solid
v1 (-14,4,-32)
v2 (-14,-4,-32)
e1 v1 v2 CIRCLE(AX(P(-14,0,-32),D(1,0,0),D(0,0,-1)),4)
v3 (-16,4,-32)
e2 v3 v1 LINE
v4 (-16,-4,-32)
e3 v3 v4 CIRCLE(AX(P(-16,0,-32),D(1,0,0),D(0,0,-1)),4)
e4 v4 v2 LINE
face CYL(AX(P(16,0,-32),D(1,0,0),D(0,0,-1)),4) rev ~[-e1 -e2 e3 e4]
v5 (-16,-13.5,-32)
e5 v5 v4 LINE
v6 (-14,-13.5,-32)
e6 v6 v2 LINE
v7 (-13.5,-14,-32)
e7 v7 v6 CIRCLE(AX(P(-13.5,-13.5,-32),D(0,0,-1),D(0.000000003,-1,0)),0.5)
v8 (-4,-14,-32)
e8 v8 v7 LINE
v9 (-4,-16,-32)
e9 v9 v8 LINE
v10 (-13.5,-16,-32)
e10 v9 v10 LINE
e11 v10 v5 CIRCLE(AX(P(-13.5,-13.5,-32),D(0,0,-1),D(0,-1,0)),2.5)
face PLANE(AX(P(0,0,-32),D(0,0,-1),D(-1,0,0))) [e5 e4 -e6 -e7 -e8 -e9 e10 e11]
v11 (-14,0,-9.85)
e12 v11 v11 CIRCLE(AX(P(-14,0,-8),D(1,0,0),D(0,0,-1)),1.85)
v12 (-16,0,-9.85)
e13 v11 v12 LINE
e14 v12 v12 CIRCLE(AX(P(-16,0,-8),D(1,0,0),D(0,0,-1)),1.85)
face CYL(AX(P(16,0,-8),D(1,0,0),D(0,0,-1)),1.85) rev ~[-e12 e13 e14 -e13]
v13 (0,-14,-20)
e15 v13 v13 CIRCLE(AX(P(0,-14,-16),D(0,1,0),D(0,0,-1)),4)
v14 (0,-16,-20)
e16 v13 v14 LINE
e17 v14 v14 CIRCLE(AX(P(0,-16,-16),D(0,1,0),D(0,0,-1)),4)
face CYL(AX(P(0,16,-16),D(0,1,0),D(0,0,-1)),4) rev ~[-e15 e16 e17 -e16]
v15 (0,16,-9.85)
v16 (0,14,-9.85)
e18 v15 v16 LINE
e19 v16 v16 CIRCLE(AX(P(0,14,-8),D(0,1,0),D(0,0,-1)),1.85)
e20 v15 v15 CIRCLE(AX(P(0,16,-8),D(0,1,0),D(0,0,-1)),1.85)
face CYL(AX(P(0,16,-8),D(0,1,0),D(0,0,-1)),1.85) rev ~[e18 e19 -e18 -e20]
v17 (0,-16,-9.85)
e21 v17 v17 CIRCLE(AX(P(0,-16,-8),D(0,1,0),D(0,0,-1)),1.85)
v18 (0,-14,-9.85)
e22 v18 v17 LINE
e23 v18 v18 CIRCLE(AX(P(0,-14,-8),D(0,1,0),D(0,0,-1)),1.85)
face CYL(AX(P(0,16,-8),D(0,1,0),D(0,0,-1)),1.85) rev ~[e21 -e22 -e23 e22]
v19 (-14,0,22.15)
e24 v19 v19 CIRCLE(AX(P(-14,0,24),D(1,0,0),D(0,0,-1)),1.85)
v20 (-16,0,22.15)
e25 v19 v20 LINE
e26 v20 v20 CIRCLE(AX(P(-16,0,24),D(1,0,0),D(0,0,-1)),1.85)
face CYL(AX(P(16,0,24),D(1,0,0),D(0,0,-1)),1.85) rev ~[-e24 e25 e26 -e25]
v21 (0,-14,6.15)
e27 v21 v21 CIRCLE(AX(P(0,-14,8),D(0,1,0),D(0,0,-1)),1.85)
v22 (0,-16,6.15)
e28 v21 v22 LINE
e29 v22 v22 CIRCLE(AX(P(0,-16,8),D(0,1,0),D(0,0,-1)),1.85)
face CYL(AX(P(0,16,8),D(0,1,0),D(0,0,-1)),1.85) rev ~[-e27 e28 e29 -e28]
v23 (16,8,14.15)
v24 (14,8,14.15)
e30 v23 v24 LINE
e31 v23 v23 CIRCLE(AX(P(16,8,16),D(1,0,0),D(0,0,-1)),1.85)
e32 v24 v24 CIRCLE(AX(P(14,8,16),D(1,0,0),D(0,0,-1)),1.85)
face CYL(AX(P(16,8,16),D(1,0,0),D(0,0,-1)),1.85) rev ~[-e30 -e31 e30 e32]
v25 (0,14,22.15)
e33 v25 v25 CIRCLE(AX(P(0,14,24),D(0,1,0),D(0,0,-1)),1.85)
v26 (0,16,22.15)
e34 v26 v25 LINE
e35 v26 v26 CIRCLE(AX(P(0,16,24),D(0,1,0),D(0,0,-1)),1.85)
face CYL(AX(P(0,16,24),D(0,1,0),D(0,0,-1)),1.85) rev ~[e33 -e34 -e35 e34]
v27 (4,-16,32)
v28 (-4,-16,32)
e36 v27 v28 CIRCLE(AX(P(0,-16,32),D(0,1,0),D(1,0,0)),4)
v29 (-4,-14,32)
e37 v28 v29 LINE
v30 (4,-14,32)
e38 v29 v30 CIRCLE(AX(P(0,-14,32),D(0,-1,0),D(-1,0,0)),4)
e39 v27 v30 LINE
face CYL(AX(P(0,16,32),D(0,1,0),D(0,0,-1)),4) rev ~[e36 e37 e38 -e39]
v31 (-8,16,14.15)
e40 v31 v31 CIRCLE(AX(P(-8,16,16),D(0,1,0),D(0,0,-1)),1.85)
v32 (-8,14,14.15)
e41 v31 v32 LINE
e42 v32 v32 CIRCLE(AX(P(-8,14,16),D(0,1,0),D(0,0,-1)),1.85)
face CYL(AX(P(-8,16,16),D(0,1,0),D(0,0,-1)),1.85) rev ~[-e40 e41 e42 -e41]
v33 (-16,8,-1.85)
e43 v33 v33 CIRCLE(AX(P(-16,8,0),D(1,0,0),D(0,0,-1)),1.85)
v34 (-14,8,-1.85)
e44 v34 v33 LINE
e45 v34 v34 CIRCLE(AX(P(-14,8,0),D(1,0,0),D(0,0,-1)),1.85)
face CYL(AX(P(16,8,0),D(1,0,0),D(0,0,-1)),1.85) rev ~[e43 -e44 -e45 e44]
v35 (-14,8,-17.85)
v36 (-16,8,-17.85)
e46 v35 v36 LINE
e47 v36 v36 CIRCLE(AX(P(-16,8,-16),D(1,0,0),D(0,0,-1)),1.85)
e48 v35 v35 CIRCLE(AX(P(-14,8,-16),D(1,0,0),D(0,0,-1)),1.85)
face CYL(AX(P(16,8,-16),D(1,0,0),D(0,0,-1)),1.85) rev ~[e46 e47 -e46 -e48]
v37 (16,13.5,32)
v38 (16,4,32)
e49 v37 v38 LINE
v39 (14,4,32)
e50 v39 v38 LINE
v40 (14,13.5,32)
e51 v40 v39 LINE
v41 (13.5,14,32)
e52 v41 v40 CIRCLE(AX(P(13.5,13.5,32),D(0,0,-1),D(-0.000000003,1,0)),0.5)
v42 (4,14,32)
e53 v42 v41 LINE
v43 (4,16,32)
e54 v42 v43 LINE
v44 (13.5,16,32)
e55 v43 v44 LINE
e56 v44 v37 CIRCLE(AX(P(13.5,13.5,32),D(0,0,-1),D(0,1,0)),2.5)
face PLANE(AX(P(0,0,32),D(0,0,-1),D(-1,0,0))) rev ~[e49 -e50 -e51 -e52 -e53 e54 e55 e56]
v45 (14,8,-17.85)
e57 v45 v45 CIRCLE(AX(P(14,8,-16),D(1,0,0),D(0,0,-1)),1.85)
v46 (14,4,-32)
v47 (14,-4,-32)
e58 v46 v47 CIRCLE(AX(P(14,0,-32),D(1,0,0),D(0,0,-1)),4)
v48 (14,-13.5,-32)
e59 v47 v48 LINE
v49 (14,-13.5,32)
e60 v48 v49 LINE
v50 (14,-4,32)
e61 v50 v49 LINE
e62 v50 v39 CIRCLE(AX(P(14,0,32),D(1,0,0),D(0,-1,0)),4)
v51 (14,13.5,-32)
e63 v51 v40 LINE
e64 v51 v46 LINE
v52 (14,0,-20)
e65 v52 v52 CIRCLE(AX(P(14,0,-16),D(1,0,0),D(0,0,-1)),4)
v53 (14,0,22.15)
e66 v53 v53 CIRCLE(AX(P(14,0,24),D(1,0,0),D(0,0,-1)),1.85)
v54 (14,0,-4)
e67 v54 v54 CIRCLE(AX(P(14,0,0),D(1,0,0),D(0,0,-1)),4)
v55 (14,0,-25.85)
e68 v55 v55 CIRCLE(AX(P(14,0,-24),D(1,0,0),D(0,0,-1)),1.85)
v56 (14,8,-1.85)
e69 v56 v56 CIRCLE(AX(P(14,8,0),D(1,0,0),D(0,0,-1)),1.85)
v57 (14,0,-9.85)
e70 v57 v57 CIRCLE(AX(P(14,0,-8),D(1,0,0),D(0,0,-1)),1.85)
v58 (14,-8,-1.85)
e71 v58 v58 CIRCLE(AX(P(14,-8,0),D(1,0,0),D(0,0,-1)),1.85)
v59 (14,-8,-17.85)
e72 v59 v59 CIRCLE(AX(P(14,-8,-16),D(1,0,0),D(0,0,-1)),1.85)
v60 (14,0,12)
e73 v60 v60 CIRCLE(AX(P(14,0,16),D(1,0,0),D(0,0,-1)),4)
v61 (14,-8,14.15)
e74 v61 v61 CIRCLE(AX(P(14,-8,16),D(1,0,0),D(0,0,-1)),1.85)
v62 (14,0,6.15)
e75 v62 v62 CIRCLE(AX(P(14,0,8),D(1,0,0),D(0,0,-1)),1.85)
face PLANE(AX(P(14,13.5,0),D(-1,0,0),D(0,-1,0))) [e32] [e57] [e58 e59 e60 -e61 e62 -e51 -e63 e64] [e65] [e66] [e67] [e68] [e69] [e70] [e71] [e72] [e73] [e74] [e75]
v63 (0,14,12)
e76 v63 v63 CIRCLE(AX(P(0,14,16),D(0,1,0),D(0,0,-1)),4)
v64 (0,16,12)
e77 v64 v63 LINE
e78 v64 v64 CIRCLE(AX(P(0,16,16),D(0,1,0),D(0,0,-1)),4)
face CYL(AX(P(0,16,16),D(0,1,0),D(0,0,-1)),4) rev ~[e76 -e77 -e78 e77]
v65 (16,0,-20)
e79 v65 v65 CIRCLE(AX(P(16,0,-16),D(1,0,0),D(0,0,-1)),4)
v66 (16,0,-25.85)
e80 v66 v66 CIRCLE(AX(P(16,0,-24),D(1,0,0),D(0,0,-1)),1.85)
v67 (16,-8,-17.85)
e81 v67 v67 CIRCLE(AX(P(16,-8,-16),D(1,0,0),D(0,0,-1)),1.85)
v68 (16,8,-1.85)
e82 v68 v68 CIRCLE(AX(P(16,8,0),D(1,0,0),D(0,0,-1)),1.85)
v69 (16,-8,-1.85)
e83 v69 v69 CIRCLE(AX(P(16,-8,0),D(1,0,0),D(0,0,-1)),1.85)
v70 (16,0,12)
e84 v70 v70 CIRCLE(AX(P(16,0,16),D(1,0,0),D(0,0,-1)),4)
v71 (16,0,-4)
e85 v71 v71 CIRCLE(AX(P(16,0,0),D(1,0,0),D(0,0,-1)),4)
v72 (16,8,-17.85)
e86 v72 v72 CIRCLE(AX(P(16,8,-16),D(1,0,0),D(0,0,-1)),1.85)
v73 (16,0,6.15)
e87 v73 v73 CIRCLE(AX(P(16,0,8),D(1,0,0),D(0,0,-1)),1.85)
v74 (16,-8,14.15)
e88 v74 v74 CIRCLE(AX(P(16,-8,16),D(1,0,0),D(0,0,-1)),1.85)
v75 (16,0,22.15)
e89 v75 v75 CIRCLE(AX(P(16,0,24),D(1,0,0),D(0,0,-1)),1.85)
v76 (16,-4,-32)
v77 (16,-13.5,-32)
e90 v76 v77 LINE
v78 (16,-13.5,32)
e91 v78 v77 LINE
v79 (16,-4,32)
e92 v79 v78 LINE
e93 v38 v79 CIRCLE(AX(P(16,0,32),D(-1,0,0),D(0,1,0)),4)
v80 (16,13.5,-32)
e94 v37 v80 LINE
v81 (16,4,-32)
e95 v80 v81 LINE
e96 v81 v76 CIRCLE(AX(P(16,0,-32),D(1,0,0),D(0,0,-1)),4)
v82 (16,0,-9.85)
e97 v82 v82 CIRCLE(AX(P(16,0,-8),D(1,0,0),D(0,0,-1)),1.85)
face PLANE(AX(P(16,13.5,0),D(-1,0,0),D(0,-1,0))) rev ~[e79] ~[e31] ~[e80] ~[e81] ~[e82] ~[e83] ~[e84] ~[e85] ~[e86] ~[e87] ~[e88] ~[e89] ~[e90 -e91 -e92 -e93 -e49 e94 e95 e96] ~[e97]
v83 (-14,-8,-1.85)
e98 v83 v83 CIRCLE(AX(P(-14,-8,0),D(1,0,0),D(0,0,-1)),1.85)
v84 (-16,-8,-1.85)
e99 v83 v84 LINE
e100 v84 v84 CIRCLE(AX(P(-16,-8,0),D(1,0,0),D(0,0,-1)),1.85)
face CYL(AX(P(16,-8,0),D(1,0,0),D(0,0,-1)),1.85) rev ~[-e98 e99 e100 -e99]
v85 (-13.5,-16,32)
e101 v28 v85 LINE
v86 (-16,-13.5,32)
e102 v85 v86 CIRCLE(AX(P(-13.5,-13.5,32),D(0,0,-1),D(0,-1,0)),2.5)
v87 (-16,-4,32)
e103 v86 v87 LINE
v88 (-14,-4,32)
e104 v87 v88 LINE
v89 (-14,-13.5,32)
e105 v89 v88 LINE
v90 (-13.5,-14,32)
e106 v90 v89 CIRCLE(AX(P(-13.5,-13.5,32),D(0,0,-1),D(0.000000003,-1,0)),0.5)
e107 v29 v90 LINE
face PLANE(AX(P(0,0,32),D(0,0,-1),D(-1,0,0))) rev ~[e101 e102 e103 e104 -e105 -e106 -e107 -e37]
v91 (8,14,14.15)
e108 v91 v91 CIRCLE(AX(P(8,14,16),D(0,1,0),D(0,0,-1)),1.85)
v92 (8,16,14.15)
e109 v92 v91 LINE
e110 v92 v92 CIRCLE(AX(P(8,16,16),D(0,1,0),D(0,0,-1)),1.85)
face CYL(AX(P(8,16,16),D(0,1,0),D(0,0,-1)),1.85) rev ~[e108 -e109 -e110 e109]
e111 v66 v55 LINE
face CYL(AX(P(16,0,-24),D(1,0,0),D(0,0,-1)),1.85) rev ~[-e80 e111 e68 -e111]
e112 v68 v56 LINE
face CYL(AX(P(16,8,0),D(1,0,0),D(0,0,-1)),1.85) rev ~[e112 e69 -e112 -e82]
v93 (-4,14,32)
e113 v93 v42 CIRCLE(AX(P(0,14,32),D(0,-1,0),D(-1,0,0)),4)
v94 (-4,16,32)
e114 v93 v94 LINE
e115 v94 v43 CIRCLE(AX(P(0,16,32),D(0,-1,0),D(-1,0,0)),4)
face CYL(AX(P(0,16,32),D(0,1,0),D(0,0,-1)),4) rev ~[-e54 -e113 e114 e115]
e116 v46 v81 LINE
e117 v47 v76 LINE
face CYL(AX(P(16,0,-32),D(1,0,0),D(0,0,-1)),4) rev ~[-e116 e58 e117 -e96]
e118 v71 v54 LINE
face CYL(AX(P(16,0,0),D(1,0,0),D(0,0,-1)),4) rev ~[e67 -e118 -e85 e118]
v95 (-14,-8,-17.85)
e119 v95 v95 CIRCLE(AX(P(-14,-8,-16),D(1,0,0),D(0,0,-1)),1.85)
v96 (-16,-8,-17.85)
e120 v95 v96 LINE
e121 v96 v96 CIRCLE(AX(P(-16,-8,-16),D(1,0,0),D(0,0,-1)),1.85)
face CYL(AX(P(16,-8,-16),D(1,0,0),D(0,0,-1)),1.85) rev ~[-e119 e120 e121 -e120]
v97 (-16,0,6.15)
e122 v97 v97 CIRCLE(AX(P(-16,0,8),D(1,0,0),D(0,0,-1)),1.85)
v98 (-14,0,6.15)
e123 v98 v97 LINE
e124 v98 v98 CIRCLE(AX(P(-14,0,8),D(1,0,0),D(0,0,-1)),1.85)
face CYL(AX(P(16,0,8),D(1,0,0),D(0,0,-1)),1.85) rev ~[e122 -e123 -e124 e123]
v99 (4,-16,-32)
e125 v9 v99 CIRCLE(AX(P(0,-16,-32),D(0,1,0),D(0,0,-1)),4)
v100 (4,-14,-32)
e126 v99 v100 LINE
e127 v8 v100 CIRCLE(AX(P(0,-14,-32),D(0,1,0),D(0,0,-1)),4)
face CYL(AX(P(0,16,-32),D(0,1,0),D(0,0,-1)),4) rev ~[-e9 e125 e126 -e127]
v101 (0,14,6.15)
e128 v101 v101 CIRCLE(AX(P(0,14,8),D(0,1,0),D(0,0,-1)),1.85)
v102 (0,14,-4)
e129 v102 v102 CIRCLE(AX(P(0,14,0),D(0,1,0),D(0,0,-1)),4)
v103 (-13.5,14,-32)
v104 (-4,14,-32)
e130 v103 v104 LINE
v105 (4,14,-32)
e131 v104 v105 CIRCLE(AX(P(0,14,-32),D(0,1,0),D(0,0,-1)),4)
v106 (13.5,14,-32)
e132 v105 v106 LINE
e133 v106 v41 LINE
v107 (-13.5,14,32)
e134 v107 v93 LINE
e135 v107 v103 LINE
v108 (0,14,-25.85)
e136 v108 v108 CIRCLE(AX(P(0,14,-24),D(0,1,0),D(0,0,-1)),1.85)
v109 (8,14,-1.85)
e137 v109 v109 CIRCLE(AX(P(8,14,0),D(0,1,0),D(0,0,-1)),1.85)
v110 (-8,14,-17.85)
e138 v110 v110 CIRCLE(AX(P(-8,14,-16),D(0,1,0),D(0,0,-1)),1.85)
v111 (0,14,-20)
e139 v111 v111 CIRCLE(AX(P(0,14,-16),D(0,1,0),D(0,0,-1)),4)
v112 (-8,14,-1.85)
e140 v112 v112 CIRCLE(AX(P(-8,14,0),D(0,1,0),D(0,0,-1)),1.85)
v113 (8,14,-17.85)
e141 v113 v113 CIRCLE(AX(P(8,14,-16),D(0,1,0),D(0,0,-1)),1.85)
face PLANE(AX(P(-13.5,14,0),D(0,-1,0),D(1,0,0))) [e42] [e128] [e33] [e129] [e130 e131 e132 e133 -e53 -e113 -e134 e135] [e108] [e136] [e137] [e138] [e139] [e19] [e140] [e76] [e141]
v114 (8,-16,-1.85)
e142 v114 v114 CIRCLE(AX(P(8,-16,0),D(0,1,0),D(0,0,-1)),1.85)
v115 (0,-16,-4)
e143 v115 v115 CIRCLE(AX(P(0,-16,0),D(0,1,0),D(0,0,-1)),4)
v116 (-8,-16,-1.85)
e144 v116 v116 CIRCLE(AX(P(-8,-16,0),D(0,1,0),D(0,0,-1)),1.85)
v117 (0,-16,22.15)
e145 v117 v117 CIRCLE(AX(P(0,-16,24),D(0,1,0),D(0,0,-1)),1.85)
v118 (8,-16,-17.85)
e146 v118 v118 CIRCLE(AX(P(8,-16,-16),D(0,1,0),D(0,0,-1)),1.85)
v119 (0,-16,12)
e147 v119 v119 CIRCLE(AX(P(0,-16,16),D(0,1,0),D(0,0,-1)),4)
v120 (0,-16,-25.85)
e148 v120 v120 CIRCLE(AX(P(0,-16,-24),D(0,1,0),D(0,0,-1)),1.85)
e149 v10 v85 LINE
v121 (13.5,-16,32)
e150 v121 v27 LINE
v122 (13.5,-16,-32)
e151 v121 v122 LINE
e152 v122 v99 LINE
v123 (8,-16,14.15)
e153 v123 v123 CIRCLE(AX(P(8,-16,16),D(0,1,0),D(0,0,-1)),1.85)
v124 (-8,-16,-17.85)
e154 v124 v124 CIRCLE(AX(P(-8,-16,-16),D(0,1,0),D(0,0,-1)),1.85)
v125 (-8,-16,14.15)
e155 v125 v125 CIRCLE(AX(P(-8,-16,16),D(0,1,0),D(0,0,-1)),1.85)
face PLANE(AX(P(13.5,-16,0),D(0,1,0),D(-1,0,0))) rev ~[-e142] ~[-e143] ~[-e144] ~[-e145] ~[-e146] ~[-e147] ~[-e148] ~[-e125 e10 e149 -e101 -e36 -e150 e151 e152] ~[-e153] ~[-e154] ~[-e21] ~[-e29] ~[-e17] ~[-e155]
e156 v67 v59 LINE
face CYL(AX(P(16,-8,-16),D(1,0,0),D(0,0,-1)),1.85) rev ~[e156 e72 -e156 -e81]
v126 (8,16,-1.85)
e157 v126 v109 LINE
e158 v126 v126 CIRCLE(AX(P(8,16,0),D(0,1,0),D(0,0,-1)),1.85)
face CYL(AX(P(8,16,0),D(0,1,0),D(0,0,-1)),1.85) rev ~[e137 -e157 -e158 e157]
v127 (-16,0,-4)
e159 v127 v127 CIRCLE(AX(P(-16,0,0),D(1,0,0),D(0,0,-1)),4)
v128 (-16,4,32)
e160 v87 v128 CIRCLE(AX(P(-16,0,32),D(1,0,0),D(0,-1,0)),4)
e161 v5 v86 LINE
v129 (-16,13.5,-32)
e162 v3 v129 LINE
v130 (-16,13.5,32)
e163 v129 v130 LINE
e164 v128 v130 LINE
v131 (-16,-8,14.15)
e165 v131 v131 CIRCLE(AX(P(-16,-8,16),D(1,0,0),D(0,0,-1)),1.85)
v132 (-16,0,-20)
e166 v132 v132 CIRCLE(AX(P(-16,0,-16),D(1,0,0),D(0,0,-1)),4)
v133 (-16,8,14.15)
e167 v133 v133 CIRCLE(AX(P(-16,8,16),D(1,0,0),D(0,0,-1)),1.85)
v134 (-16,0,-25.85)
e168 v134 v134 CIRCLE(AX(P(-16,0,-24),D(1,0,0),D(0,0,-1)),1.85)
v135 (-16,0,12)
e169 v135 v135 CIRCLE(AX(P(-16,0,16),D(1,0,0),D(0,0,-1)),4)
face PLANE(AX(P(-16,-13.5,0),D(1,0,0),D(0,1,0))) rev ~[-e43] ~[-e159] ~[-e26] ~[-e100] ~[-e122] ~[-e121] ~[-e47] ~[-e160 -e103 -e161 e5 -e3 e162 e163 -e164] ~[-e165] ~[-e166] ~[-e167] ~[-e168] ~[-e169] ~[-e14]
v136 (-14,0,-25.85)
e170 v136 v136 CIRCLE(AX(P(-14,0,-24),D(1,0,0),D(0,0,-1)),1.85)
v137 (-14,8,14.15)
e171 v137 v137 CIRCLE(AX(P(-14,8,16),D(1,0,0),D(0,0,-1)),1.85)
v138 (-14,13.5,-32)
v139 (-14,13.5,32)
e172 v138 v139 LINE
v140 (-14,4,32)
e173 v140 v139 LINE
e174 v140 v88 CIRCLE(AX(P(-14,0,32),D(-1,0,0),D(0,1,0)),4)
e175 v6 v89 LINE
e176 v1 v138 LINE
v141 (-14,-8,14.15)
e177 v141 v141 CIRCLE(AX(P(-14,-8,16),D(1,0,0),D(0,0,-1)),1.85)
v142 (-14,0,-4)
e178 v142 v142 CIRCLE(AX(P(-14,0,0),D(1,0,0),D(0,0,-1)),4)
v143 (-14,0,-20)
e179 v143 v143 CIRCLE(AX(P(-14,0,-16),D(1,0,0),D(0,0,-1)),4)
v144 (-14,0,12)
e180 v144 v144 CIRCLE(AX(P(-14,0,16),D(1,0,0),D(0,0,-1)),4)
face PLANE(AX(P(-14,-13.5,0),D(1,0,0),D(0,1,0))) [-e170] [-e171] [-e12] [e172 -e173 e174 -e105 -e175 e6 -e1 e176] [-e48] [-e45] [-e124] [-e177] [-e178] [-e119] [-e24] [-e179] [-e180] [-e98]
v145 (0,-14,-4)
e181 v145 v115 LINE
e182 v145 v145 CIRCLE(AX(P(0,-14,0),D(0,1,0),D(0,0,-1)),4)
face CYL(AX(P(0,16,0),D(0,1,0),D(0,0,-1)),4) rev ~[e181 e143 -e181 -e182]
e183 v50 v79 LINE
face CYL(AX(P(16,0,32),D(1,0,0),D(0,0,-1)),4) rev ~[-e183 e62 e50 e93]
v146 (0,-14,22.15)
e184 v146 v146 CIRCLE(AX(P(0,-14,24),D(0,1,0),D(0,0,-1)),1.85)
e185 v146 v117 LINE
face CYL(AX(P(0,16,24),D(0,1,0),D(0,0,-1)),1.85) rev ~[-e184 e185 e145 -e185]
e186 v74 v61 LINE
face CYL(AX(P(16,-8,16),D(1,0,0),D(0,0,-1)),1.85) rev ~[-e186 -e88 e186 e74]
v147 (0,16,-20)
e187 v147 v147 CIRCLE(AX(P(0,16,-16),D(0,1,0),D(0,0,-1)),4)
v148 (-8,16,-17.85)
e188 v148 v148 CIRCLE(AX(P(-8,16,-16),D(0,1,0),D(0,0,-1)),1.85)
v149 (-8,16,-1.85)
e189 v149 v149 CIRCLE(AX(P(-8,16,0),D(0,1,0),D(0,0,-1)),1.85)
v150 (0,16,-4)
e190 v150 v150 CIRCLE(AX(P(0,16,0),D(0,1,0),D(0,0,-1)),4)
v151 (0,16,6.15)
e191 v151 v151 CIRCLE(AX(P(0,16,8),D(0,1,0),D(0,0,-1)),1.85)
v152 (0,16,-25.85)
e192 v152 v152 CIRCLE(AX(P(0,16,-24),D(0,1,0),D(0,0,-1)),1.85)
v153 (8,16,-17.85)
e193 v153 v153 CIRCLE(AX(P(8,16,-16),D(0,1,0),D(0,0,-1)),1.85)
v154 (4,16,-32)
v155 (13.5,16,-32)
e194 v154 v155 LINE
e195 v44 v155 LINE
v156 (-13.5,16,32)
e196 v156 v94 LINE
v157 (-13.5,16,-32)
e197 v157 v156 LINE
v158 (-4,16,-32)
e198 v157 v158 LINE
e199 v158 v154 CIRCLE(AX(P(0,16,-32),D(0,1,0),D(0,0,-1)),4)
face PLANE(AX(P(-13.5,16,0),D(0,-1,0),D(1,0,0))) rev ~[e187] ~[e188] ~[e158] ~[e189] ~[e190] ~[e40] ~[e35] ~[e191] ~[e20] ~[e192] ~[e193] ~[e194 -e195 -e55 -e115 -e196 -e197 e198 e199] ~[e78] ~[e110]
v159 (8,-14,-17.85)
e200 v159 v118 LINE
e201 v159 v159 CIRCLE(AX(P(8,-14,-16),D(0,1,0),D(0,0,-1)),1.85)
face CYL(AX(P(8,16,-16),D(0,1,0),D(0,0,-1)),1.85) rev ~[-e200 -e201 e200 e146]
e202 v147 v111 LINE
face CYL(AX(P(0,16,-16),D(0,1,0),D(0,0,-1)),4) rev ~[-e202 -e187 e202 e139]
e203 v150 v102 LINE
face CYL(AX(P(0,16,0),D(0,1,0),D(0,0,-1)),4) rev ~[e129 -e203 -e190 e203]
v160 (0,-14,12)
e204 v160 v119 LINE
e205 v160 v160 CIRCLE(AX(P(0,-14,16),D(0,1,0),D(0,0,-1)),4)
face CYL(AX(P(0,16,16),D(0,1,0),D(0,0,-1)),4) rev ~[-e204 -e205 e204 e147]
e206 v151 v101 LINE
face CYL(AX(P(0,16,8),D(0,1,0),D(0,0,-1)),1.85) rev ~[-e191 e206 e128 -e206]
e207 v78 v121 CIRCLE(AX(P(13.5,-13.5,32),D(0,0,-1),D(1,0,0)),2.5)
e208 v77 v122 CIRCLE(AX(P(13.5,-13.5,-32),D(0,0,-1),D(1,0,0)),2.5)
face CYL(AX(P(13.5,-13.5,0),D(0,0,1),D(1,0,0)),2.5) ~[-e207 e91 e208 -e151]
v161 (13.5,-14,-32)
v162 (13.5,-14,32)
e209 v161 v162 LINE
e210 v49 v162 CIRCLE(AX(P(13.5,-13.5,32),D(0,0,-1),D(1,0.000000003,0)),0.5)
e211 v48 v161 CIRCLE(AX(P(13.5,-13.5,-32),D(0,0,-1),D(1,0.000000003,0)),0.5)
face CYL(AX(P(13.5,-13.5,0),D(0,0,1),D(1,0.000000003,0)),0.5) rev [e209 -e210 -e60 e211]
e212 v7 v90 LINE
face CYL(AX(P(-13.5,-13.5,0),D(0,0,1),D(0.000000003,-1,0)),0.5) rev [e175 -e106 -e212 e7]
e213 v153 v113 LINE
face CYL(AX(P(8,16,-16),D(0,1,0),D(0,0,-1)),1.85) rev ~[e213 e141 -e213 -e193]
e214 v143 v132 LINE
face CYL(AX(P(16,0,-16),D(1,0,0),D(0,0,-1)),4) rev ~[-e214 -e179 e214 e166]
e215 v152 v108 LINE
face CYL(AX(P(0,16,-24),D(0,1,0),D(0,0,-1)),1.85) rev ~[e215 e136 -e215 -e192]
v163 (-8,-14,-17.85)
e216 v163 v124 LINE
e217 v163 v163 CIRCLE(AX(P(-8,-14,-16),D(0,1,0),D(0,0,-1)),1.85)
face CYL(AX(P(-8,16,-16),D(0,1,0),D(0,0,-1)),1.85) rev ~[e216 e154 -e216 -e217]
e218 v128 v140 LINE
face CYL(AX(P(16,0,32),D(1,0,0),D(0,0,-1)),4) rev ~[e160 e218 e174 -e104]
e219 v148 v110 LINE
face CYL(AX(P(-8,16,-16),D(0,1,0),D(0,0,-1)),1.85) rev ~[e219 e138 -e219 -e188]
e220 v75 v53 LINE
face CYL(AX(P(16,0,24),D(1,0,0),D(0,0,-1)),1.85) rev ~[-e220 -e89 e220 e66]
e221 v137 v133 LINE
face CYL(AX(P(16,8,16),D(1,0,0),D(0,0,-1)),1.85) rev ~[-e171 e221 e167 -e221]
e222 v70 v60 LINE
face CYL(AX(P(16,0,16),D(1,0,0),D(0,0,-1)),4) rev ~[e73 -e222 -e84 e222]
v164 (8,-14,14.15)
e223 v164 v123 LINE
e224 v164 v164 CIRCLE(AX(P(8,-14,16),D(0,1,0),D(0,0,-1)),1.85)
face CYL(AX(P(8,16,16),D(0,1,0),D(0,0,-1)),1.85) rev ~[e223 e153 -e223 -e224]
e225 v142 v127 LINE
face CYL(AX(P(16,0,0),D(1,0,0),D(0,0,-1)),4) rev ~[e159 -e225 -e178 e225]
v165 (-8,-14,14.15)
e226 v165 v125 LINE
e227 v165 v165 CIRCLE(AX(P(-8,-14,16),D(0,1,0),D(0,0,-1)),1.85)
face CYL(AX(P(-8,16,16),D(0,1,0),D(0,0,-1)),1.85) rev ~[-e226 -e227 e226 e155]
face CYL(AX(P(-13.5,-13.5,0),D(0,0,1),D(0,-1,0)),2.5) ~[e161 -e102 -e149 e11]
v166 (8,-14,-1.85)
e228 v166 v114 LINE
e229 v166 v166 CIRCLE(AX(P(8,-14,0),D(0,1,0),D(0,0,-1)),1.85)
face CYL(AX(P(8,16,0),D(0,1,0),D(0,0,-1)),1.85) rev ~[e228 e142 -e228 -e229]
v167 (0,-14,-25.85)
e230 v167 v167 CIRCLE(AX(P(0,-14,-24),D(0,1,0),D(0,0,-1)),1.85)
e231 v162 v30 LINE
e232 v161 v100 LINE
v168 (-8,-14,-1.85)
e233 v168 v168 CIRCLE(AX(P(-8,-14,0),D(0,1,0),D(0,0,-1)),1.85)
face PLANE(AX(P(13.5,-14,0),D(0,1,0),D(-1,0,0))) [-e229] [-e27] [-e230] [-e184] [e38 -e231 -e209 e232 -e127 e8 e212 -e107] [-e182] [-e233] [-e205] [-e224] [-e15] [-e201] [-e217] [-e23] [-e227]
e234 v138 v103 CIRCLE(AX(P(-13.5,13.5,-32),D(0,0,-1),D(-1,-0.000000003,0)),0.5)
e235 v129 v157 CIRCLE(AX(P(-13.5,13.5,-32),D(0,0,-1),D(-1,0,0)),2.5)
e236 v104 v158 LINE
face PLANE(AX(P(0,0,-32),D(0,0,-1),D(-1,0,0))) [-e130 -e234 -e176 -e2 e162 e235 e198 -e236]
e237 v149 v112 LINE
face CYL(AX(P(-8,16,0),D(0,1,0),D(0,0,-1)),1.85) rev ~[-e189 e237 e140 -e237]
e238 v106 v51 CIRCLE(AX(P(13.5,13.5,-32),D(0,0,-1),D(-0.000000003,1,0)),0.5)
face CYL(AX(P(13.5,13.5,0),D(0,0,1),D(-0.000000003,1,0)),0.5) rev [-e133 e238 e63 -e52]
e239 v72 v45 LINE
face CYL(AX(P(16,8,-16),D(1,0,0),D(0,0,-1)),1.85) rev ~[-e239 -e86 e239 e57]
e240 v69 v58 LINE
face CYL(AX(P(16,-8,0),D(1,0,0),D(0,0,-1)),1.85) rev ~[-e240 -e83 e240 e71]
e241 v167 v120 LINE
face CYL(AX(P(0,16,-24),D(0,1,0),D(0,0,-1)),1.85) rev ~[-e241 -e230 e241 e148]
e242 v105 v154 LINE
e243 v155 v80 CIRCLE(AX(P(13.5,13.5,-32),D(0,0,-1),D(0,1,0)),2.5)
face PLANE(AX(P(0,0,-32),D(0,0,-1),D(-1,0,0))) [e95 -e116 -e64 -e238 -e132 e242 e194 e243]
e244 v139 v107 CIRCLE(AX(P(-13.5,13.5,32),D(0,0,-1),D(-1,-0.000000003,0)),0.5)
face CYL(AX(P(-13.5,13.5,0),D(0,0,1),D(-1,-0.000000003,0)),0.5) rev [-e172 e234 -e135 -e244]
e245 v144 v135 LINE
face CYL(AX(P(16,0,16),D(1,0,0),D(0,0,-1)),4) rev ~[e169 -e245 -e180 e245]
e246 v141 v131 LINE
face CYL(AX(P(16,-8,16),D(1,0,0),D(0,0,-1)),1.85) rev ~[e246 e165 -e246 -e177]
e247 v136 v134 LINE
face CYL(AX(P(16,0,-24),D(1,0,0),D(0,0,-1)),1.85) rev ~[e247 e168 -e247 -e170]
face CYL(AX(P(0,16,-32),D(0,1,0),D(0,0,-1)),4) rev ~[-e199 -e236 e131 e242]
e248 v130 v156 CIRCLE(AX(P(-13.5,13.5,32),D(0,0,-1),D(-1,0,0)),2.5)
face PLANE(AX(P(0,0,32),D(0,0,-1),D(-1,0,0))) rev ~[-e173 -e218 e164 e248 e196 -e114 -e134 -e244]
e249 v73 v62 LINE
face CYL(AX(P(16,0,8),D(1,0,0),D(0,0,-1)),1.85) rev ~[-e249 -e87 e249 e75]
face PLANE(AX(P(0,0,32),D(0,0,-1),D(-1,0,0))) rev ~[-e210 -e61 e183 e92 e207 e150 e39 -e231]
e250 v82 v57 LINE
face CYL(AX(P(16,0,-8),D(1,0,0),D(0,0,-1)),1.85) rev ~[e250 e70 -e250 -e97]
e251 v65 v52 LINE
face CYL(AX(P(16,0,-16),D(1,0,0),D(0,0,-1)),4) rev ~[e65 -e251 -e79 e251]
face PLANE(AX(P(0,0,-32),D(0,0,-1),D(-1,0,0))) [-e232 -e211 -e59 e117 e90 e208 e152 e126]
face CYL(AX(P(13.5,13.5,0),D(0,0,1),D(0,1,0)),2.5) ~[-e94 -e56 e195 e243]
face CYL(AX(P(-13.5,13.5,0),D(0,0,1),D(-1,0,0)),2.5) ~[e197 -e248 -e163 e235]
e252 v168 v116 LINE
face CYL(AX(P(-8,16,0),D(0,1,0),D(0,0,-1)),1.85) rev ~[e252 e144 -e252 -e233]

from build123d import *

# Parameters (mm, degrees)
BOSS_EXTRUDE1_DEPTH = 32
SKETCH2_R           = 4
SKETCH2_R_2         = 1.85
CUT_EXTRUDE1_DEPTH  = 33
CIRPATTERN1_COUNT   = 2
CIRPATTERN1_ANGLE   = 90


with BuildPart() as part:
    # Sketch1 → Boss-Extrude1 (new body, symmetric)
    with BuildSketch(Plane.XY):
        with BuildLine():
            Line((-13.5, 16), (13.5, 16))
            ThreePointArc((13.5, 16), (15.267766953, 15.267766953), (16, 13.5))
            Line((16, 13.5), (16, -13.5))
            ThreePointArc((16, -13.5), (15.267766953, -15.267766953), (13.5, -16))
            Line((13.5, -16), (-13.5, -16))
            ThreePointArc((-13.5, -16), (-15.267766953, -15.267766953), (-16, -13.5))
            Line((-16, -13.5), (-16, 13.5))
            ThreePointArc((-16, 13.5), (-15.267766953, 15.267766953), (-13.5, 16))
        make_face()
        with BuildLine():
            Line((-13.5, 14), (13.5, 14))
            ThreePointArc((13.5, 14), (13.853553391, 13.853553391), (14, 13.5))
            Line((14, 13.5), (14, -13.5))
            ThreePointArc((14, -13.5), (13.853553391, -13.853553391), (13.5, -14))
            Line((13.5, -14), (-13.5, -14))
            ThreePointArc((-13.5, -14), (-13.853553391, -13.853553391), (-14, -13.5))
            Line((-14, -13.5), (-14, 13.5))
            ThreePointArc((-14, 13.5), (-13.853553391, 13.853553391), (-13.5, 14))
        make_face(mode=Mode.SUBTRACT)
    extrude(amount=BOSS_EXTRUDE1_DEPTH, both=True)

    # Sketch2 → Cut-Extrude1 (cut, through all)
    with BuildSketch(Plane(origin=(16, 0, 0), x_dir=(0, 0, -1), z_dir=(1, 0, 0))):
        Circle(SKETCH2_R)
        with Locations((16, 0)):
            Circle(SKETCH2_R)
        with Locations((32, 0)):
            Circle(SKETCH2_R)
        with Locations((-16, 0)):
            Circle(SKETCH2_R)
        with Locations((-32, 0)):
            Circle(SKETCH2_R)
        with Locations((24, 0)):
            Circle(SKETCH2_R_2)
        with Locations((16, 8)):
            Circle(SKETCH2_R_2)
        with Locations((16, -8)):
            Circle(SKETCH2_R_2)
        with Locations((8, 0)):
            Circle(SKETCH2_R_2)
        with Locations((-8, 0)):
            Circle(SKETCH2_R_2)
        with Locations((-24, 0)):
            Circle(SKETCH2_R_2)
        with Locations((-16, -8)):
            Circle(SKETCH2_R_2)
        with Locations((-16, 8)):
            Circle(SKETCH2_R_2)
        with Locations((0, 8)):
            Circle(SKETCH2_R_2)
        with Locations((0, -8)):
            Circle(SKETCH2_R_2)
    cut_extrude1 = extrude(amount=-CUT_EXTRUDE1_DEPTH, mode=Mode.SUBTRACT)

    # CirPattern1: Cut-Extrude1 ×2 about axis
    cirpattern1_axis = Axis((0, 0, -17.6), (0, 0, 1))
    for i in range(1, CIRPATTERN1_COUNT):
        add(cut_extrude1.rotate(cirpattern1_axis, i * CIRPATTERN1_ANGLE / (CIRPATTERN1_COUNT - 1)), mode=Mode.SUBTRACT)


solid = part.part
